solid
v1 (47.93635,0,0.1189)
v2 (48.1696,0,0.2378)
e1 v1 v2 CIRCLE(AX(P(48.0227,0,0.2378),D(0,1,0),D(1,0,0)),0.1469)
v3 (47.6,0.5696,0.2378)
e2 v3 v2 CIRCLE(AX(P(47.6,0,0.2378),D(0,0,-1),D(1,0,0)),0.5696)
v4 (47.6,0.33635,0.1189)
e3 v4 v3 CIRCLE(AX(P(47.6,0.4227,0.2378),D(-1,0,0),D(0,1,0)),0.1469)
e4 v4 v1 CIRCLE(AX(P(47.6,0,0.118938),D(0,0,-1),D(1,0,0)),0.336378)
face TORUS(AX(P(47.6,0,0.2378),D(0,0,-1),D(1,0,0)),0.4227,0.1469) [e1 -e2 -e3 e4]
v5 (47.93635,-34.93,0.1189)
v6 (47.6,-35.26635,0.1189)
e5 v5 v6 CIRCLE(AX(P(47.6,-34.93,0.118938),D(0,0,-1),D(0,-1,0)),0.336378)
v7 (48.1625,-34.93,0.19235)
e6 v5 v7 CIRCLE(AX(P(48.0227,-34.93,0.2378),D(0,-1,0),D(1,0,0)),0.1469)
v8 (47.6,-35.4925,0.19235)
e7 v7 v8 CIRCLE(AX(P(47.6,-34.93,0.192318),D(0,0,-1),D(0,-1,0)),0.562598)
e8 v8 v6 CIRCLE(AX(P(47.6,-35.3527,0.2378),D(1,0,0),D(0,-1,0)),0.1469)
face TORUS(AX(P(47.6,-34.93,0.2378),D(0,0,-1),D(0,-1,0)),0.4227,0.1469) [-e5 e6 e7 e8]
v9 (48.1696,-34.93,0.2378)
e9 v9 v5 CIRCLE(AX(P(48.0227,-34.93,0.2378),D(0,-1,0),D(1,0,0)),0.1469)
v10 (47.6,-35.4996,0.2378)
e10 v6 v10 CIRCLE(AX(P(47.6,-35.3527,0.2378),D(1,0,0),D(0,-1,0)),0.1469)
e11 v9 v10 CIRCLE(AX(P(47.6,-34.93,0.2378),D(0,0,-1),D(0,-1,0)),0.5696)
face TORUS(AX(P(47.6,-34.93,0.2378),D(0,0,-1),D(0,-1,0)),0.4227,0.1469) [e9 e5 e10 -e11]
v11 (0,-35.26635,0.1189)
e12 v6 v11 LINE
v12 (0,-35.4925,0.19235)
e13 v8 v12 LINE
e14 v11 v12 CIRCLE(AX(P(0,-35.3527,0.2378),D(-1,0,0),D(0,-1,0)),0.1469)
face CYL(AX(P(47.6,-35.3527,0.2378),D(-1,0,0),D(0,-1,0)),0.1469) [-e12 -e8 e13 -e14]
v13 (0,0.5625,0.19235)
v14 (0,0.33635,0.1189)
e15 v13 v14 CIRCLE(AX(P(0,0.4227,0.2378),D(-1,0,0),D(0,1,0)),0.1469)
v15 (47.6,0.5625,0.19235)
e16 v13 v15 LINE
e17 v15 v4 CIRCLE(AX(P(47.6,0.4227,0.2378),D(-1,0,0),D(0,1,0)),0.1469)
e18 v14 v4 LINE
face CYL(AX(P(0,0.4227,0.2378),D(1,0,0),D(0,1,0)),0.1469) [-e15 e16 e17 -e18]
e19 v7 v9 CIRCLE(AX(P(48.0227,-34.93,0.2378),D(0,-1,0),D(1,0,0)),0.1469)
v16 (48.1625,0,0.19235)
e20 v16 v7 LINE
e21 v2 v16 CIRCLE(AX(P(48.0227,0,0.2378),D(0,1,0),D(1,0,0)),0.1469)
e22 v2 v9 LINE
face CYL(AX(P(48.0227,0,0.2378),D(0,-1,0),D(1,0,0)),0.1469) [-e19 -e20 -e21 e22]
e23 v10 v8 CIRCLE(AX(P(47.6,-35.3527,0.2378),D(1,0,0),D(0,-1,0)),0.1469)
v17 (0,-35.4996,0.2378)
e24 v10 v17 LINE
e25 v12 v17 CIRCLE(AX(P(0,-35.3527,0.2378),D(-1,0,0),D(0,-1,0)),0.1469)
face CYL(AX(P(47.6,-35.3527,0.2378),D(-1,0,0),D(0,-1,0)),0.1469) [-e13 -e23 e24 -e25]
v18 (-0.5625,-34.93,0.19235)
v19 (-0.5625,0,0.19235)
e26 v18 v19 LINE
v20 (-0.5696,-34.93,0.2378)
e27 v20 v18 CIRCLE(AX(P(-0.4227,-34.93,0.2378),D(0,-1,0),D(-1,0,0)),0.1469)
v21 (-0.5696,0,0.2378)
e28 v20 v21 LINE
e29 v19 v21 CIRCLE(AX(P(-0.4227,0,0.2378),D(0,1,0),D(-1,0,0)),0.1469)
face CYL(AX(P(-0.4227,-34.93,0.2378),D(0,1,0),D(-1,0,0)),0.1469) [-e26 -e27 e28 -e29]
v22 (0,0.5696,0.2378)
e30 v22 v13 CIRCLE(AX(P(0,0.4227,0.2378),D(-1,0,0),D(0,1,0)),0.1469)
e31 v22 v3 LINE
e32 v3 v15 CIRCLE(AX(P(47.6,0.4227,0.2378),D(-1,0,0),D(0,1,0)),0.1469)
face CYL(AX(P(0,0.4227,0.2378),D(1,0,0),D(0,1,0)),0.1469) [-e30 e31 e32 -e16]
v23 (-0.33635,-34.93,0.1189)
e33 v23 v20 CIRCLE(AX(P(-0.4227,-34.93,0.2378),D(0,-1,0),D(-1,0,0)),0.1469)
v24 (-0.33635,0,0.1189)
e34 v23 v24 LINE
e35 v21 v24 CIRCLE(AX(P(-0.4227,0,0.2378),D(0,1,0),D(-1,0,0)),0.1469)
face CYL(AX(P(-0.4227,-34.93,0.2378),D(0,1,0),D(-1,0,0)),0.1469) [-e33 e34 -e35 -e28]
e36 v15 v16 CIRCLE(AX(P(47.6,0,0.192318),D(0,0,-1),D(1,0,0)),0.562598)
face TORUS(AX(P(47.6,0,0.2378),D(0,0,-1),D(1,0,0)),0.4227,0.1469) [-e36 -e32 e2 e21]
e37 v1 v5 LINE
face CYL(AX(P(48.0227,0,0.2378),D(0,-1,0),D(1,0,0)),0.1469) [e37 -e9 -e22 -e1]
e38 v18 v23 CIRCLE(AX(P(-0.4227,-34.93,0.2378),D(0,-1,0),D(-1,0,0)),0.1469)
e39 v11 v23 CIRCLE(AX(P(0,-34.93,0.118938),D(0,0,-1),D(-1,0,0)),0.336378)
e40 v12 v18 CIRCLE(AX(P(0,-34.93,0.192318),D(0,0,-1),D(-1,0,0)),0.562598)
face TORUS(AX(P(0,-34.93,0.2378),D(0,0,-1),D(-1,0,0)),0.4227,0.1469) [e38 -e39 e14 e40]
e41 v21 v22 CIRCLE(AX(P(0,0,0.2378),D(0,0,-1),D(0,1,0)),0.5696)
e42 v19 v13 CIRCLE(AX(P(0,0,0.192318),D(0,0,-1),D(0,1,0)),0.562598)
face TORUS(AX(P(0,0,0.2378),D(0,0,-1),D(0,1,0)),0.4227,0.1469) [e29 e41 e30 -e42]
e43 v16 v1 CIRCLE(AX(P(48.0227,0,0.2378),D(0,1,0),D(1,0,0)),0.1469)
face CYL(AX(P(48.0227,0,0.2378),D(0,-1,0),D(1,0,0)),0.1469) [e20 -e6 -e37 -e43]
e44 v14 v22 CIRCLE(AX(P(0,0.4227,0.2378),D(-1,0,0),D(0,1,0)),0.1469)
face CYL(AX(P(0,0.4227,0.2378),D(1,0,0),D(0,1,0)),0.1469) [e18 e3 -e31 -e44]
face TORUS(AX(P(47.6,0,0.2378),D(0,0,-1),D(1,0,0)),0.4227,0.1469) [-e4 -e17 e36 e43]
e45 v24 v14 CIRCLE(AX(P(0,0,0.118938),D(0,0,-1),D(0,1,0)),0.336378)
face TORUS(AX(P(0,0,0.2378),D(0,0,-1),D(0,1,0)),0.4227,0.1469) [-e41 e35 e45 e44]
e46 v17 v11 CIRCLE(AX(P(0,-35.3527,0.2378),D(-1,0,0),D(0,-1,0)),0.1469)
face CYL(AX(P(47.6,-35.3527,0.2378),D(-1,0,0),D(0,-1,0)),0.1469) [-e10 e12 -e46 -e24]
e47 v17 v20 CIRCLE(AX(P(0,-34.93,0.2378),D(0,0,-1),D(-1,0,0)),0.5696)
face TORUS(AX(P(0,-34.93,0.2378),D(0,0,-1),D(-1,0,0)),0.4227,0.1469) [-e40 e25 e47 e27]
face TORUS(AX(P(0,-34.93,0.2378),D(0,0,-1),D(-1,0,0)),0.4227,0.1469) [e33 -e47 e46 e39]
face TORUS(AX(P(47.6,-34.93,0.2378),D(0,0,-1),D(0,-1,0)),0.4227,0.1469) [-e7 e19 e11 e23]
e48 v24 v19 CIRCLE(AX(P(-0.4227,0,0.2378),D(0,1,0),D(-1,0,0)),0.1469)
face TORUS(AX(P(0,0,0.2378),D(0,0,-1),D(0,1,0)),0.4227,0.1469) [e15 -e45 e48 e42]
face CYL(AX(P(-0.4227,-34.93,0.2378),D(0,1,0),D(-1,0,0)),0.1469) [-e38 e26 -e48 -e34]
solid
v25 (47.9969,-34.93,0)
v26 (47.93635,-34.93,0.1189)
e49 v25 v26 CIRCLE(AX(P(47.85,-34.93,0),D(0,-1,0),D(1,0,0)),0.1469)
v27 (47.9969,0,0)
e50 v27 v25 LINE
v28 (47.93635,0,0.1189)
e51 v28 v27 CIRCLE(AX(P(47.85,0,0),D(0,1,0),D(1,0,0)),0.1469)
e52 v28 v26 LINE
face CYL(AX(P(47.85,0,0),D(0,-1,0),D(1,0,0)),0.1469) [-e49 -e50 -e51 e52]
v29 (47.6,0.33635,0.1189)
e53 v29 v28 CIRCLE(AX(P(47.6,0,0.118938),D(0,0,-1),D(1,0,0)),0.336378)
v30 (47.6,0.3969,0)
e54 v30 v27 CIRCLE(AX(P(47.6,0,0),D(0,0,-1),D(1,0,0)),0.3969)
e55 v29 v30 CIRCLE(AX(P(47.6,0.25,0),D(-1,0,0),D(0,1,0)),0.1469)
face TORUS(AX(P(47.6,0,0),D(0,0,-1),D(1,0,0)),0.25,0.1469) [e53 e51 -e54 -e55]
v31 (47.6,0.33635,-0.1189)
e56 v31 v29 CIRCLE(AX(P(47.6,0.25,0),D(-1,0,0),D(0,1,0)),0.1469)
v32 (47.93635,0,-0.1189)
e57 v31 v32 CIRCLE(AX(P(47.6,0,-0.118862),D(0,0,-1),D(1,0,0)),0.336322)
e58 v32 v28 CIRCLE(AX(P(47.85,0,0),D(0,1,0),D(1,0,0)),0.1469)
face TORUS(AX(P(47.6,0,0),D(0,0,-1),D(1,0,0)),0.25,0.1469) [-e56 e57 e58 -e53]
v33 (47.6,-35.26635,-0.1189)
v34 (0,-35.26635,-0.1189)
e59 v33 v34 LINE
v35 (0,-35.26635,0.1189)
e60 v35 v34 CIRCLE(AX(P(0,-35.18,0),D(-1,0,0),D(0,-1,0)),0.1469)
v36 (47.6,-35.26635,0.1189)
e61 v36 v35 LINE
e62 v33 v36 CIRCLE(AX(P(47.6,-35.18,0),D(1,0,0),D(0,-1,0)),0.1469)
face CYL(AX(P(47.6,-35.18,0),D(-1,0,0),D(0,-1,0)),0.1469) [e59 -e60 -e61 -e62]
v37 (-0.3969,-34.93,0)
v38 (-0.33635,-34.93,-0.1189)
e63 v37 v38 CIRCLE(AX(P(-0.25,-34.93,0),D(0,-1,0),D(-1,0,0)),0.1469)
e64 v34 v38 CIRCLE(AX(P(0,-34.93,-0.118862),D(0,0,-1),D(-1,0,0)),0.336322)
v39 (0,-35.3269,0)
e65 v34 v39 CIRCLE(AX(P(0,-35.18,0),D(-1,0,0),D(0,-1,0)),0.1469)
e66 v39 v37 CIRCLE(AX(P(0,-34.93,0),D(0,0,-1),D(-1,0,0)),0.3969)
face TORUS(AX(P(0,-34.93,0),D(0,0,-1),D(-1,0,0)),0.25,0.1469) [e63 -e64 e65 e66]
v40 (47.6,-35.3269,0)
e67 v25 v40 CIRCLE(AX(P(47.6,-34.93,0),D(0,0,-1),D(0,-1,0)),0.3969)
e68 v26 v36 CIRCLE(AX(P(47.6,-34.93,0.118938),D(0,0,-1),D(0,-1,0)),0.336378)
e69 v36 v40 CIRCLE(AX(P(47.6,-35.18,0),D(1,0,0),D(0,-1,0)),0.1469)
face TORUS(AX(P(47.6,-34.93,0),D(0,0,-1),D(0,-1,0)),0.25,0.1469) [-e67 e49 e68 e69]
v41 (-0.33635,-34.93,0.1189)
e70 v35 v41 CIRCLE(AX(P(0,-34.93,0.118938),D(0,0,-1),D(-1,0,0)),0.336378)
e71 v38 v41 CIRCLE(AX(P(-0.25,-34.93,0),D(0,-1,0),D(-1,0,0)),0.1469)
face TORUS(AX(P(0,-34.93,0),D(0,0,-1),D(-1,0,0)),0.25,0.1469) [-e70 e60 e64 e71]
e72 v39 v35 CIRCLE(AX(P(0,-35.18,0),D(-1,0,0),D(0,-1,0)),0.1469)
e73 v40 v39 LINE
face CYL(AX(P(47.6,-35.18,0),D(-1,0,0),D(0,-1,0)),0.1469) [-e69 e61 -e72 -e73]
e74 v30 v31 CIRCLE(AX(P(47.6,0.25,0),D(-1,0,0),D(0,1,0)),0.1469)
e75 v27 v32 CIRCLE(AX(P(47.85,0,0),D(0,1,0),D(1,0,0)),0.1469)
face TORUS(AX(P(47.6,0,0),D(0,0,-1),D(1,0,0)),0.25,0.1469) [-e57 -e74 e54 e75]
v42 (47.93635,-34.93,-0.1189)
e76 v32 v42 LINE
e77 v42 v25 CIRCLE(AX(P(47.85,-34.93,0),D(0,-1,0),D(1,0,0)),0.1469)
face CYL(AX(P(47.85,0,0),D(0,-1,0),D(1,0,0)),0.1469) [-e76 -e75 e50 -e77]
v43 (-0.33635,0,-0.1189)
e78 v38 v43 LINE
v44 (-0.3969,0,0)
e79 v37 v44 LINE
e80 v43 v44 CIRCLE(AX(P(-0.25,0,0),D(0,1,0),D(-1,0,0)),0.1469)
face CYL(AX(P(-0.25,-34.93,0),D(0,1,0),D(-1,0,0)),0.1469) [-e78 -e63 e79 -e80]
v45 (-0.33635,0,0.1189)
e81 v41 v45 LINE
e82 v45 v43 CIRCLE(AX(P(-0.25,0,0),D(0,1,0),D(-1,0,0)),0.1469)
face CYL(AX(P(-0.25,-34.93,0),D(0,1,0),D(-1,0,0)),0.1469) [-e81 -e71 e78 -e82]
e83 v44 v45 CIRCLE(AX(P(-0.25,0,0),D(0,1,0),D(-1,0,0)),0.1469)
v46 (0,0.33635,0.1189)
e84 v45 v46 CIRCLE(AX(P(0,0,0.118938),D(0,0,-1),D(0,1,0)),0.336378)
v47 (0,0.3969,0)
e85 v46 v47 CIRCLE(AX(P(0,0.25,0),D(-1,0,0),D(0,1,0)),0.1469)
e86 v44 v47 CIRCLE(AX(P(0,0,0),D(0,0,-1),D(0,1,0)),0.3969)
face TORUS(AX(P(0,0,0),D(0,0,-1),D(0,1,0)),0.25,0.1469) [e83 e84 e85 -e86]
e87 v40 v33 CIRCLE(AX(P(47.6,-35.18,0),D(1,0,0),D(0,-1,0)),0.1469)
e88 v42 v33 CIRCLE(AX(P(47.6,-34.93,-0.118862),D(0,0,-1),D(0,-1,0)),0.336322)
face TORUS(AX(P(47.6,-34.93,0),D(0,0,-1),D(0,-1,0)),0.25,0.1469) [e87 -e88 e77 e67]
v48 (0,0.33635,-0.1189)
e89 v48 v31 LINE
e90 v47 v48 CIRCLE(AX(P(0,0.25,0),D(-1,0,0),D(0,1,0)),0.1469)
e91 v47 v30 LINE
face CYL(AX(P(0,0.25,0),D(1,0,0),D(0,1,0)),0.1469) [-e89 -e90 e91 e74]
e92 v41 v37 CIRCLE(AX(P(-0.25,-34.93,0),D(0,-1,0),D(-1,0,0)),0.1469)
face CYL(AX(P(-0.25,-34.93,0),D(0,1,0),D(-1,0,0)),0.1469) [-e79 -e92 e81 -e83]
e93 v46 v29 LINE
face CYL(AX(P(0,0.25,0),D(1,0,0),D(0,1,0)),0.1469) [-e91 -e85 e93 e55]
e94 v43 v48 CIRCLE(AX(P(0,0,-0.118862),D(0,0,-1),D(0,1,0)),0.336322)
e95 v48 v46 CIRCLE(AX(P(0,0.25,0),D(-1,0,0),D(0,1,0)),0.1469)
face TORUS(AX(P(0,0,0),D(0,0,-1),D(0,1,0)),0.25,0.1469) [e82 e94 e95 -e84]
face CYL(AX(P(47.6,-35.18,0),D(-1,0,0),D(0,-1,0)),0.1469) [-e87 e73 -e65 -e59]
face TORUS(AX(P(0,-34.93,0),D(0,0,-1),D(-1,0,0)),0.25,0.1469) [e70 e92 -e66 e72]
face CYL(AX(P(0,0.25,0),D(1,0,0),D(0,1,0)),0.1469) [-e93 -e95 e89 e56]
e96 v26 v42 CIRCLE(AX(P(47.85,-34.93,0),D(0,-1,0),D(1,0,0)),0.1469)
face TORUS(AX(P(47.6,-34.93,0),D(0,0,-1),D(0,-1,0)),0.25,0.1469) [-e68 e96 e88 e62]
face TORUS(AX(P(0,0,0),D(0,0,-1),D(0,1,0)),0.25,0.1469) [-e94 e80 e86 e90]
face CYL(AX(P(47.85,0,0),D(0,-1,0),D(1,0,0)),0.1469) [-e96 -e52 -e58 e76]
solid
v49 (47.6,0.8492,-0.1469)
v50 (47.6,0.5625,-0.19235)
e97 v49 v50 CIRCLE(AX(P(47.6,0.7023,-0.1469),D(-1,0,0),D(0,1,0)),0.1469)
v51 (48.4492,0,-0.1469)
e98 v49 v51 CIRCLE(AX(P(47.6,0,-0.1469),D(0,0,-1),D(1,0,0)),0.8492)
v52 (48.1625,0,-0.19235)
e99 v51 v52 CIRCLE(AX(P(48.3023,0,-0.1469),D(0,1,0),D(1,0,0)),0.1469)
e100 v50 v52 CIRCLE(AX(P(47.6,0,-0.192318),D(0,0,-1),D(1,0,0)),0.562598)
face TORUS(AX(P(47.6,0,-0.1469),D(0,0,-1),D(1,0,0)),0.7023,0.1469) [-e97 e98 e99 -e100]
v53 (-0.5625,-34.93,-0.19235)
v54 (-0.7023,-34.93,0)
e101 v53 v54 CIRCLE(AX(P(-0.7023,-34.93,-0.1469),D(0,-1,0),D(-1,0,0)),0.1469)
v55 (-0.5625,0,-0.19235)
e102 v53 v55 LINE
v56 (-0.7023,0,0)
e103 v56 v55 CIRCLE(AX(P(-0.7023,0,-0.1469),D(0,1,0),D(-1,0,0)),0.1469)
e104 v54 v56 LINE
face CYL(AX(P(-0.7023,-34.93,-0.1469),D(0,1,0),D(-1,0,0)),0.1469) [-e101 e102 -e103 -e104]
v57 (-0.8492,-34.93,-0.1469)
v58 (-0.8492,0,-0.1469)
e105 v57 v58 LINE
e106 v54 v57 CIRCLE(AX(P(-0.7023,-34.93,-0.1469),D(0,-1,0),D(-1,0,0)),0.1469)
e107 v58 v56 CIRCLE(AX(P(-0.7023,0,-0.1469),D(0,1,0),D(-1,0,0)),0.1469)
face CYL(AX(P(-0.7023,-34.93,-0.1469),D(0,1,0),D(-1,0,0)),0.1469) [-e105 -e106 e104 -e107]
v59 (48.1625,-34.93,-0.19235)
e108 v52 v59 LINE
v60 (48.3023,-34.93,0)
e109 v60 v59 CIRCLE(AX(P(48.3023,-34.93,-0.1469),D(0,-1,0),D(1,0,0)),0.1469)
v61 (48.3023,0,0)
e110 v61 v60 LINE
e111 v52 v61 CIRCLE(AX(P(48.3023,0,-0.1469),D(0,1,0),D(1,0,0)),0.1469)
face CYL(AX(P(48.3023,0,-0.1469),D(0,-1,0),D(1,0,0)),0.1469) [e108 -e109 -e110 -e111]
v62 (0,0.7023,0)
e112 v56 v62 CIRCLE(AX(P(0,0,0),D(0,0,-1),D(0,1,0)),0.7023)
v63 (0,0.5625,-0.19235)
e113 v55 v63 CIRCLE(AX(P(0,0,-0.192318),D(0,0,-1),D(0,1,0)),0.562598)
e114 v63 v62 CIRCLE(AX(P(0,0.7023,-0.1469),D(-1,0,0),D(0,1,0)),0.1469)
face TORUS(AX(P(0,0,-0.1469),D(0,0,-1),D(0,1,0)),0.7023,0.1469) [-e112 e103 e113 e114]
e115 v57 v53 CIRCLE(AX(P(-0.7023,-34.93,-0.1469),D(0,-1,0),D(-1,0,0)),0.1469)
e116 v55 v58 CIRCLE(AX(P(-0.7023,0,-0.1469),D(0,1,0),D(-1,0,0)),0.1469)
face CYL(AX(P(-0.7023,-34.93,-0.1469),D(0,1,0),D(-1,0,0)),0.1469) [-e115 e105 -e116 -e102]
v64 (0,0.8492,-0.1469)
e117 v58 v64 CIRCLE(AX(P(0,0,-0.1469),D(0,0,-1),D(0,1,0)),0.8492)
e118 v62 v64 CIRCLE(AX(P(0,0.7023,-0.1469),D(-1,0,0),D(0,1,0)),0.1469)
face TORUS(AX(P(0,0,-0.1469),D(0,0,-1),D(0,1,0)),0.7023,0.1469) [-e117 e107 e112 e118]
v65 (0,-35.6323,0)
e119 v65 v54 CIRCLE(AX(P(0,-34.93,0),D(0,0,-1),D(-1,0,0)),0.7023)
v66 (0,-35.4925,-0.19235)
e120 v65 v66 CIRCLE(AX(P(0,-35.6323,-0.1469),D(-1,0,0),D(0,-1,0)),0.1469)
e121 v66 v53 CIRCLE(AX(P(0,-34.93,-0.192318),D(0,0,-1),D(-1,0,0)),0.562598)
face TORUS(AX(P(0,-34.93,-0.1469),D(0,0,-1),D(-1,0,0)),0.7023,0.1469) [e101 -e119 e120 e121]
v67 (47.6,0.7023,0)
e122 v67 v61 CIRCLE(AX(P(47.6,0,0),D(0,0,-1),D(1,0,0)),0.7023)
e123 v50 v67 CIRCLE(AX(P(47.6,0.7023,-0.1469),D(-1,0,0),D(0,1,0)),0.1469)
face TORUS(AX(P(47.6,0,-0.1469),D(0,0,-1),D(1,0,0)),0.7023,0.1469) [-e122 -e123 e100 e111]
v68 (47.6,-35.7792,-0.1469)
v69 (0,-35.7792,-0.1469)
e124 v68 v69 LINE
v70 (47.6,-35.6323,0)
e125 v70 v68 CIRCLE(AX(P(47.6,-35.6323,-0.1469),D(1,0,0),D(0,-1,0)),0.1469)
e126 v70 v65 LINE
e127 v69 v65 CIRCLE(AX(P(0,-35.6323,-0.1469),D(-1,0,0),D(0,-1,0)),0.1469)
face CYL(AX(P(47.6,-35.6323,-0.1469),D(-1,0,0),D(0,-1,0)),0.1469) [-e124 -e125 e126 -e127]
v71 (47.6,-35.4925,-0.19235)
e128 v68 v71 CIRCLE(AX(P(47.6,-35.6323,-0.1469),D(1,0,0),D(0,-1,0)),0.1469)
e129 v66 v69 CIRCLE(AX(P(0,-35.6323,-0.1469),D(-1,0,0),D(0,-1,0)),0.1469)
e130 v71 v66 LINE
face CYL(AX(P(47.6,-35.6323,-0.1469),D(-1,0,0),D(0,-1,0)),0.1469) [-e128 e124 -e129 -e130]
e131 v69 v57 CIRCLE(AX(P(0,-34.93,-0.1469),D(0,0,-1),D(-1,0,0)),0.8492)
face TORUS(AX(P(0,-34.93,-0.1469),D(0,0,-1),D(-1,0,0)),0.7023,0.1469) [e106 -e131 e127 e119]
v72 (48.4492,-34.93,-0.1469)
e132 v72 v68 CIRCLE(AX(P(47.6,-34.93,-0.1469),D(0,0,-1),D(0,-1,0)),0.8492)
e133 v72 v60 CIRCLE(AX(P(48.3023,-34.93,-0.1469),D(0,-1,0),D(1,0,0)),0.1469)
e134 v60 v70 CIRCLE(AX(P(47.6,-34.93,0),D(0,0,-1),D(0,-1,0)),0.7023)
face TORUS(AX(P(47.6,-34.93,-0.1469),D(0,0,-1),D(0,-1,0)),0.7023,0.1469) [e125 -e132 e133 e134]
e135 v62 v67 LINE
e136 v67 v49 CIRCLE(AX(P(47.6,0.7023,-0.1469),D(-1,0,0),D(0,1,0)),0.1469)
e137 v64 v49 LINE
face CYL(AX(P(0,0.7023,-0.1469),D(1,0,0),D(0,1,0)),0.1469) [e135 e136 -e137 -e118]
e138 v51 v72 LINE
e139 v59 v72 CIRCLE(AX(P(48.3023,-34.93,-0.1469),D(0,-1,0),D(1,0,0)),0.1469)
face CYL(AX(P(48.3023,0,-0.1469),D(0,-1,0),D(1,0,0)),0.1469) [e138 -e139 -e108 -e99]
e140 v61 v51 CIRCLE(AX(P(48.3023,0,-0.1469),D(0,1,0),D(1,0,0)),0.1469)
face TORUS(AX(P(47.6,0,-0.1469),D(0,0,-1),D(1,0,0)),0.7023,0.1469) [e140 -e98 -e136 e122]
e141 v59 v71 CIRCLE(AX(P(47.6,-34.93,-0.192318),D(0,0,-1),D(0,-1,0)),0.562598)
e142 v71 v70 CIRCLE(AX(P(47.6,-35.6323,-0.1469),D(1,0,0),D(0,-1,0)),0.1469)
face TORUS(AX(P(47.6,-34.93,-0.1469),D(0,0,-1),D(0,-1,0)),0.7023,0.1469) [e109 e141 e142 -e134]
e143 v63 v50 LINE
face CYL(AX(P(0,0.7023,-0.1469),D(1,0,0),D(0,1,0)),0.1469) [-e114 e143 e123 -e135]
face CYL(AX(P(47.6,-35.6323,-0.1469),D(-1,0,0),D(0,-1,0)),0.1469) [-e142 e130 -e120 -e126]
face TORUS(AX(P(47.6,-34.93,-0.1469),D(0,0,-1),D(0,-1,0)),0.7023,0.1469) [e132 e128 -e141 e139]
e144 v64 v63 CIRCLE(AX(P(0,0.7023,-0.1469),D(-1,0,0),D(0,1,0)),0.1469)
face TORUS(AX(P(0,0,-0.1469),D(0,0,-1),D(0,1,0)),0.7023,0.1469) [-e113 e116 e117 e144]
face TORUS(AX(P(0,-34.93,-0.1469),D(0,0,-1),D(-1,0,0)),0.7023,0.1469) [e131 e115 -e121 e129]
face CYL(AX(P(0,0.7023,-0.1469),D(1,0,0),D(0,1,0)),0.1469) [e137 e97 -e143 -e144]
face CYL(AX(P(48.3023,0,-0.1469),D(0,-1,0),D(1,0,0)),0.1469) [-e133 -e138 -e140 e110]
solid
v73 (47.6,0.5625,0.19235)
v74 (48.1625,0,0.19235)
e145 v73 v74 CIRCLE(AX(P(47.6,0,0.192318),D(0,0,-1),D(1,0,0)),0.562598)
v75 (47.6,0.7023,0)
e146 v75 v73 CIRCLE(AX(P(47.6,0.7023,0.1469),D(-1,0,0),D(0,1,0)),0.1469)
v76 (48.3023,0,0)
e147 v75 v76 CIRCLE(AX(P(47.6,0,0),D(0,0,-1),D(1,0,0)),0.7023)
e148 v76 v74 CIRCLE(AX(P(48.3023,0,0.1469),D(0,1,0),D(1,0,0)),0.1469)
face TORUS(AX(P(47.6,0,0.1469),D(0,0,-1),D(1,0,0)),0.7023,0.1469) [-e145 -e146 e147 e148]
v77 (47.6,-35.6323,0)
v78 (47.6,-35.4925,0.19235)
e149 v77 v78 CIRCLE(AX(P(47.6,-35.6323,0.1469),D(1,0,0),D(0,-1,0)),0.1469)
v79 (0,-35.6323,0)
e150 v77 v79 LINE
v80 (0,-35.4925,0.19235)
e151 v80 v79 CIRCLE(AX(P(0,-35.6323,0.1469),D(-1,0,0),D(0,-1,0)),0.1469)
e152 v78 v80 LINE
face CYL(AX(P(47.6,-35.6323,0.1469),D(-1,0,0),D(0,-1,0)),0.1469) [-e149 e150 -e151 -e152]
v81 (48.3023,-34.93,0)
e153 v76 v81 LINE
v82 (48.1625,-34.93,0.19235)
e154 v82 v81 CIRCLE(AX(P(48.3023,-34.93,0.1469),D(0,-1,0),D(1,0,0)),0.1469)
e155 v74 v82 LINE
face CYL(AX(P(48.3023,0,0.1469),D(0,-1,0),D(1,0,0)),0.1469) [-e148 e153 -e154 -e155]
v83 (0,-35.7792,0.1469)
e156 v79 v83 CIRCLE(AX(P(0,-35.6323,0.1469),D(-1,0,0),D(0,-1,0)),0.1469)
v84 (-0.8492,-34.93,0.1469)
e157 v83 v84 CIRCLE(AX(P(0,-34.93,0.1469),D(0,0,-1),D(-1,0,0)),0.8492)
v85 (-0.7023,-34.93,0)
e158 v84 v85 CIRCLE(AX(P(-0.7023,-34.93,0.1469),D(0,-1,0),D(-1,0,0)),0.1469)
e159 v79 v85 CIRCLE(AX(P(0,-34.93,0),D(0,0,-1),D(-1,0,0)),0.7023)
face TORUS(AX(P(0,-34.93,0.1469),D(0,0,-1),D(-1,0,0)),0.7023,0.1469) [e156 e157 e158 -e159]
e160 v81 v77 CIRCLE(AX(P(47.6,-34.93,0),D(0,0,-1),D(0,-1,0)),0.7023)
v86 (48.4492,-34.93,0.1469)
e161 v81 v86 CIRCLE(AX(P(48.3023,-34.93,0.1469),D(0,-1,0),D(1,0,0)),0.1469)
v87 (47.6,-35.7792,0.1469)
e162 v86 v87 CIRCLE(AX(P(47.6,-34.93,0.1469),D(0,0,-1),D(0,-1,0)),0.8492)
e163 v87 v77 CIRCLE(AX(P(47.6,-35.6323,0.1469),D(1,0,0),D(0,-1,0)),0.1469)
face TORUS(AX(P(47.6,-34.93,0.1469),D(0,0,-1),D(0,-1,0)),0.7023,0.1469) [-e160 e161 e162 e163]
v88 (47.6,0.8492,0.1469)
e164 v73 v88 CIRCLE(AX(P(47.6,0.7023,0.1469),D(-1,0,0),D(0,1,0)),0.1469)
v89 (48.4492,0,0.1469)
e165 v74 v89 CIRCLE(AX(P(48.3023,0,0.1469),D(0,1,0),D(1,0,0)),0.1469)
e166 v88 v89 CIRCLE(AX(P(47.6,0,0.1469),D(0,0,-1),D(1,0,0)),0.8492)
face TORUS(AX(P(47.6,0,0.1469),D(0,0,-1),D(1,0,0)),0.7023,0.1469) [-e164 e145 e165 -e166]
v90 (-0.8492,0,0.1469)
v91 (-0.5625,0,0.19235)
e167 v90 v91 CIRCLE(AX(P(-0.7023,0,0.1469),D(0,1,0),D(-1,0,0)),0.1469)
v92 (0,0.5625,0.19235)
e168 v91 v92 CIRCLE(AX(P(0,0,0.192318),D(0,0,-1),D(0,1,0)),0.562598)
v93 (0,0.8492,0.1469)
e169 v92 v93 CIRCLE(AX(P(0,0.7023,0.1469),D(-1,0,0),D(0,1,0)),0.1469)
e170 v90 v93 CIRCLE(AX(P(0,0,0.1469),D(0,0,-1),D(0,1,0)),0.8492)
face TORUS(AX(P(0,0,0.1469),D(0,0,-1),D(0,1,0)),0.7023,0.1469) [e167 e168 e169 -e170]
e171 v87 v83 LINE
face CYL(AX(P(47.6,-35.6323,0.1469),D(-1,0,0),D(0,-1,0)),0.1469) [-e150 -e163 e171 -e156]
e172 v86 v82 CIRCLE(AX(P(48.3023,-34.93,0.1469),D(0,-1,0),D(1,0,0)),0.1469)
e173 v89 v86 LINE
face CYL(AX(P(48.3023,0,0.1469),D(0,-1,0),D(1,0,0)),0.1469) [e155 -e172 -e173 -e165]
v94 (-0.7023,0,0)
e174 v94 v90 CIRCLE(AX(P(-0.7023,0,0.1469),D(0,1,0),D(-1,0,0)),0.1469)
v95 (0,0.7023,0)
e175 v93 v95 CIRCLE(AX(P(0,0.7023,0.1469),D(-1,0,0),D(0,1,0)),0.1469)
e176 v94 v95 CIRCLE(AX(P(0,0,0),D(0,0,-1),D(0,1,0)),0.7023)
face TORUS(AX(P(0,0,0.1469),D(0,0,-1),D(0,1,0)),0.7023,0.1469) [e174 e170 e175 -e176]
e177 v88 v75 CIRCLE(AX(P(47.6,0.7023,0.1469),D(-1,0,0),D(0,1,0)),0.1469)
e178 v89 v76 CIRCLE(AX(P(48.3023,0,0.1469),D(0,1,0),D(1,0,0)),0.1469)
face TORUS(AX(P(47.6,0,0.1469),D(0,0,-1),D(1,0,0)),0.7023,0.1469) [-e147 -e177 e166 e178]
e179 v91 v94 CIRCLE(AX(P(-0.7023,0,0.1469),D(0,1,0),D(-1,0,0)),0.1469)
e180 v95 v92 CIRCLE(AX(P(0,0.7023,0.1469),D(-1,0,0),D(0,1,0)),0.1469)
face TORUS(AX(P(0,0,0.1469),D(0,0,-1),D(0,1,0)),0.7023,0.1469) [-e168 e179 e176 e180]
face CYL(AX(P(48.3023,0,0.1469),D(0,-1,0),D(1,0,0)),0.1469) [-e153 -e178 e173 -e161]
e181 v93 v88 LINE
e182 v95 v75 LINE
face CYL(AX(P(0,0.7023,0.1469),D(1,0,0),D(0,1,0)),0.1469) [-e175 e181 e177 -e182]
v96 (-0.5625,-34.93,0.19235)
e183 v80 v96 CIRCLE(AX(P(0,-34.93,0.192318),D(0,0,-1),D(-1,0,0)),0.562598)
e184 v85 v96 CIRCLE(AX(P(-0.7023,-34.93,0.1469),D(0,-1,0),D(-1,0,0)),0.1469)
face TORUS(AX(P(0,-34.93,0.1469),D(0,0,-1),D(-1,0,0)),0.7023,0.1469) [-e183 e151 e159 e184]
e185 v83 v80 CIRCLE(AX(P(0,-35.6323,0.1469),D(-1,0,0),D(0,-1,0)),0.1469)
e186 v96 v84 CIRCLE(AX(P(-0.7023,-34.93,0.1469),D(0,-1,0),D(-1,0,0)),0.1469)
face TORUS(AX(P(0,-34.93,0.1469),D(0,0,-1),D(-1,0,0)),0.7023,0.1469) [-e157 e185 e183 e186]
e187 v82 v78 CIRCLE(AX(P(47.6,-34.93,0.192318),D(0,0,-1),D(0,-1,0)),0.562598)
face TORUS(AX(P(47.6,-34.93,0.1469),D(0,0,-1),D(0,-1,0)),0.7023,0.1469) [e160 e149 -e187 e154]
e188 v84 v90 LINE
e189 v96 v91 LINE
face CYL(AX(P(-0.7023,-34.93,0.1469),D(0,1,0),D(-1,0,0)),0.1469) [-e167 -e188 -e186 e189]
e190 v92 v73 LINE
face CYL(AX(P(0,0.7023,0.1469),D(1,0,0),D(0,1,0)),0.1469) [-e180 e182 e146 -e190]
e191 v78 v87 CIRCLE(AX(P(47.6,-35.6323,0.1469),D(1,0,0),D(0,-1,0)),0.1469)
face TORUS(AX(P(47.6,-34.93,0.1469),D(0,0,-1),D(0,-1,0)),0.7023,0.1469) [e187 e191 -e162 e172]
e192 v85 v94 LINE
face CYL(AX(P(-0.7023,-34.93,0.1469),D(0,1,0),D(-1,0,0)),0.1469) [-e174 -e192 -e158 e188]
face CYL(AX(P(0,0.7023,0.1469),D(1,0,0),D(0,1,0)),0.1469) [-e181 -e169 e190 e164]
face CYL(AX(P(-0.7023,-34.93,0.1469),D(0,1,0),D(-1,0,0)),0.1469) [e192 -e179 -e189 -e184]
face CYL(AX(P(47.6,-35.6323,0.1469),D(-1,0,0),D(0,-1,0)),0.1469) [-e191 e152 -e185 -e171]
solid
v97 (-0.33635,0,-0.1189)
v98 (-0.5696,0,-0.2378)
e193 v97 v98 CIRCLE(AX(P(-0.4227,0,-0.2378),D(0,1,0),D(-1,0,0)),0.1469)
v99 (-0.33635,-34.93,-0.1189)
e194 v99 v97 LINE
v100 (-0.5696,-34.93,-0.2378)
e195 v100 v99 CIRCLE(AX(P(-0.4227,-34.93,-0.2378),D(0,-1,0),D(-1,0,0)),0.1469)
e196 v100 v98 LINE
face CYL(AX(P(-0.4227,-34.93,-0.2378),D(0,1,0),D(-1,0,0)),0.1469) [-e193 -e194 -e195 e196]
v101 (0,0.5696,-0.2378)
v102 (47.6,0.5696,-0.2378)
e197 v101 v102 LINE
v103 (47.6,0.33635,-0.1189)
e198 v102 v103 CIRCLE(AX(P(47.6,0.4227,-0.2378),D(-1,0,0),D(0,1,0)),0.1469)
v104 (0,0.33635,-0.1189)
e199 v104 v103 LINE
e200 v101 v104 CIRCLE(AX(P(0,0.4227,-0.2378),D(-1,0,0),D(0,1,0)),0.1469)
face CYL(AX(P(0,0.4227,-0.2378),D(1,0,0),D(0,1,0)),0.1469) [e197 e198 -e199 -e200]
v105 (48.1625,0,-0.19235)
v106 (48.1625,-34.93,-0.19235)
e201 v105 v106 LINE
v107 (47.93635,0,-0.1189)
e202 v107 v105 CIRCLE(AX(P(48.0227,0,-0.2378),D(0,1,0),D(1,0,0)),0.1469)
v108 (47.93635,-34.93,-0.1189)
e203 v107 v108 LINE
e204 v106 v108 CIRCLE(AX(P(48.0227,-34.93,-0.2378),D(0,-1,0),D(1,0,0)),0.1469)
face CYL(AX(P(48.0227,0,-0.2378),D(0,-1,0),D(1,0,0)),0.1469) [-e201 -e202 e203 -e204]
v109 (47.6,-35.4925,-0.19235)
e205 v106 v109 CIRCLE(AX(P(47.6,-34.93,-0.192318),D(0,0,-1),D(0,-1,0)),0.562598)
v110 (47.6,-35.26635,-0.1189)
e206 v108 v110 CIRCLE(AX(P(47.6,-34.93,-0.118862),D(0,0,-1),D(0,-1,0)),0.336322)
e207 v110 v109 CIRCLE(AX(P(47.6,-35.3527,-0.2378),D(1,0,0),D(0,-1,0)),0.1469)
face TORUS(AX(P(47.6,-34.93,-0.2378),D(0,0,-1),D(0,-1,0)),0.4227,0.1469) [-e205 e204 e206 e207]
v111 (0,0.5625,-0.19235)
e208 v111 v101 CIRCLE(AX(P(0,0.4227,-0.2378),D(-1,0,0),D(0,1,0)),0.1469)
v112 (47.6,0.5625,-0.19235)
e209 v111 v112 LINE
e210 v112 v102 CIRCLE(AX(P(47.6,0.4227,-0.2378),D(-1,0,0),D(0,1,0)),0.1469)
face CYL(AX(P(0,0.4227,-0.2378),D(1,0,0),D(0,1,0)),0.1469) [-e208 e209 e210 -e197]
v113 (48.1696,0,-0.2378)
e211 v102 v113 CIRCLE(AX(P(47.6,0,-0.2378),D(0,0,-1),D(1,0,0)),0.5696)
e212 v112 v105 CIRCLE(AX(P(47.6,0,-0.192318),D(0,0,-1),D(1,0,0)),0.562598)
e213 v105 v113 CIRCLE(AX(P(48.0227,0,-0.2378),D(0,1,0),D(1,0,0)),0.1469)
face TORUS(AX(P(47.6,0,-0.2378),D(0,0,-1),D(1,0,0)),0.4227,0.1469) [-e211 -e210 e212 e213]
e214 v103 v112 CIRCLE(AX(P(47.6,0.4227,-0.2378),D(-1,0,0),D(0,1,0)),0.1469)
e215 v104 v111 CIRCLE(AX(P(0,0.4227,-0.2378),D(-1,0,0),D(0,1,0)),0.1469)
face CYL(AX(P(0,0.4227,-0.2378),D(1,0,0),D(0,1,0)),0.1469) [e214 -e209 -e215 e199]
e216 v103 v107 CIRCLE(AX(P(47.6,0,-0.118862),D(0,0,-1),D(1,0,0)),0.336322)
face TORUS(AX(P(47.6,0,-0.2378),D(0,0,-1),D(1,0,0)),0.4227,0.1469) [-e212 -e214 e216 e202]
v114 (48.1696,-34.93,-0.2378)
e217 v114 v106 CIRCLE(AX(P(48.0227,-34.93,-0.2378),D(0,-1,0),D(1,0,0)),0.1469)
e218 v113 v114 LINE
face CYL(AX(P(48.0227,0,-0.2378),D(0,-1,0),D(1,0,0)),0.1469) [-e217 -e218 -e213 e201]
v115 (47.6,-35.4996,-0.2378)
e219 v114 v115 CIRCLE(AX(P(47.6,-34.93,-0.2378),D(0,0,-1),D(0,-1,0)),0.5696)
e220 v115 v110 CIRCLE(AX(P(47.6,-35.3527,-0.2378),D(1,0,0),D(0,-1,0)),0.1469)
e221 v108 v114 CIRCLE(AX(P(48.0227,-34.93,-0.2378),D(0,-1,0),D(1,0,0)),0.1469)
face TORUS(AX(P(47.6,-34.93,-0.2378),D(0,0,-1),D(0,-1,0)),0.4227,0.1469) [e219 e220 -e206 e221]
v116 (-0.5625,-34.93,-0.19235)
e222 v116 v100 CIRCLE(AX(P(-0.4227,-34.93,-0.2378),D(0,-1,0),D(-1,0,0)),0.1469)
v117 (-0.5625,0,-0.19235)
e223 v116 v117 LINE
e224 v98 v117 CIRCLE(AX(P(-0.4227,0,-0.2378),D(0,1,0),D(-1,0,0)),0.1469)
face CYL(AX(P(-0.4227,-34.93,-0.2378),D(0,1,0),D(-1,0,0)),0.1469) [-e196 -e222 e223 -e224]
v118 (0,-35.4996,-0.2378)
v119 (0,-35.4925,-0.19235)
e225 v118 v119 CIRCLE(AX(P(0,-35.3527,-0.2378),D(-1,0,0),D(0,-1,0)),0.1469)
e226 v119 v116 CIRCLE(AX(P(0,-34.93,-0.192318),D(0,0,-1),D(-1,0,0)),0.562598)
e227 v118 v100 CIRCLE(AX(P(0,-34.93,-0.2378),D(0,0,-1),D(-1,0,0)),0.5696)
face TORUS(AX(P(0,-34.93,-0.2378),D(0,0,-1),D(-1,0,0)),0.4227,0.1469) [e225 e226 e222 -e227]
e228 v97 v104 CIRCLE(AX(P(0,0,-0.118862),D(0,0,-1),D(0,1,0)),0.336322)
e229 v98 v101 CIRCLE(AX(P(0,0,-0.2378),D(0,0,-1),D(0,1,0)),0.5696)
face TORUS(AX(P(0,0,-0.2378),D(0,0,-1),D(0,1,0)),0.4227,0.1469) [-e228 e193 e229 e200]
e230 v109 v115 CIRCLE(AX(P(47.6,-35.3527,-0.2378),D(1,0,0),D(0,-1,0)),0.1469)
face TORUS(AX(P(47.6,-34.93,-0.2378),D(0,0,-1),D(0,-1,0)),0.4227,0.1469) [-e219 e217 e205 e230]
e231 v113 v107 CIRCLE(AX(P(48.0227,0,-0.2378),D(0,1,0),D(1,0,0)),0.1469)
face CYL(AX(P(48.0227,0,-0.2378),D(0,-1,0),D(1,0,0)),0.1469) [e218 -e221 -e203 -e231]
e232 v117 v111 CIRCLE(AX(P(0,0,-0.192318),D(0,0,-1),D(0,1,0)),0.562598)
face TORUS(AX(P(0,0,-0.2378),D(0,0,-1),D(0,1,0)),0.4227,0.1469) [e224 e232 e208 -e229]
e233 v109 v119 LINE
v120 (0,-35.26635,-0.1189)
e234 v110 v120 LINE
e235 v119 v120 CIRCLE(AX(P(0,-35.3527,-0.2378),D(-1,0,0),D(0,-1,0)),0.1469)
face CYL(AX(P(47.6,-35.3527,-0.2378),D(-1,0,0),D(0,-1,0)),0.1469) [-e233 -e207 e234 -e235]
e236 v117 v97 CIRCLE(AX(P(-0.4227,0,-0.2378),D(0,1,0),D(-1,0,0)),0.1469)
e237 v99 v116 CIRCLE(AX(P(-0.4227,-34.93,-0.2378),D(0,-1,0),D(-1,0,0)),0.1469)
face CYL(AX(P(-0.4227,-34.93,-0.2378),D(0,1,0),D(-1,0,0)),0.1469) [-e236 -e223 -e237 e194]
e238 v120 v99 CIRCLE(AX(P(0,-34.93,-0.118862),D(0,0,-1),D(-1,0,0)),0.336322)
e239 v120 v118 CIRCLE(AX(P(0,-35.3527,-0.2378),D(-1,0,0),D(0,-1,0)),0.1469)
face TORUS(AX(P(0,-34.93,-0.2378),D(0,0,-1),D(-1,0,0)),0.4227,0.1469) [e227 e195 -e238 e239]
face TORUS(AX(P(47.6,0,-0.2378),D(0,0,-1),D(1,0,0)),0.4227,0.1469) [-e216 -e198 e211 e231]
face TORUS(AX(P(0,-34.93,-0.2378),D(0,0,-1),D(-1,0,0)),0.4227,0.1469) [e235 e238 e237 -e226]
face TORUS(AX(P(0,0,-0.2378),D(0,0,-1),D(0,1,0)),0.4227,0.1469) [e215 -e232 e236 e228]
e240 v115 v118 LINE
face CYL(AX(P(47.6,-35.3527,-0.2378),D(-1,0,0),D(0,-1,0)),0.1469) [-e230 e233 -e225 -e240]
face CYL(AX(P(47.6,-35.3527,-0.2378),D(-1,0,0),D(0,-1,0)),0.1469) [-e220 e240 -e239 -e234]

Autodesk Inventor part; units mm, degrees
ref_plane "YZ Plane" through (0, 0, 0) normal (1, 0, 0) x (0, 1, 0)
ref_plane "XZ Plane" through (0, 0, 0) normal (0, 1, 0) x (-1, 0, 0)
ref_plane "XY Plane" through (0, 0, 0) normal (0, 0, 1) x (1, 0, 0)
sketch "Sketch1" plane through (0, 0, 0) normal (0, 0, 1) x (1, 0, 0)
  line L0 (23.8, -34.93) -> (0, -34.93) construction
  line L1 (23.8, -30.365) -> (23.8, -34.93) construction
  line L2 (4.75, -30.365) -> (23.8, -30.365) construction
  line L3 (4.75, -22.23) -> (4.75, -30.365) construction
  line L4 (23.8, -22.23) -> (4.75, -22.23) construction
  line L5 (23.8, -12.7) -> (23.8, -22.23) construction
  line L6 (4.75, -12.7) -> (23.8, -12.7) construction
  line L7 (4.75, -4.565) -> (4.75, -12.7) construction
  line L8 (23.8, -4.565) -> (4.75, -4.565) construction
  line L9 (23.8, 0) -> (23.8, -4.565) construction
  line L10 (0, 0) -> (23.8, 0) construction
  line L11 (0, -34.93) -> (0, 0) construction
  line L12 (23.8, 0) -> (47.6, 0) construction
  line L13 (23.8, -4.565) -> (23.8, 0) construction
  line L14 (42.85, -4.565) -> (23.8, -4.565) construction
  line L15 (42.85, -12.7) -> (42.85, -4.565) construction
  line L16 (23.8, -12.7) -> (42.85, -12.7) construction
  line L17 (23.8, -22.23) -> (23.8, -12.7) construction
  line L18 (42.85, -22.23) -> (23.8, -22.23) construction
  line L19 (42.85, -30.365) -> (42.85, -22.23) construction
  line L20 (23.8, -30.365) -> (42.85, -30.365) construction
  line L21 (23.8, -34.93) -> (23.8, -30.365) construction
  line L22 (47.6, -34.93) -> (23.8, -34.93) construction
  line L23 (47.6, 0) -> (47.6, -34.93) construction
  line L24 (0, 0.5) -> (47.6, 0.5)
  line L25 (48.1, 0) -> (48.1, -34.93)
  line L26 (47.6, -35.43) -> (0, -35.43)
  line L27 (-0.5, -34.93) -> (-0.5, 0)
  arc A0 (0, 0.5) -> (-0.5, 0) centre (0, 0) ccw
  arc A1 (-0.5, -34.93) -> (0, -35.43) centre (0, -34.93) ccw
  arc A2 (47.6, -35.43) -> (48.1, -34.93) centre (47.6, -34.93) ccw
  arc A3 (48.1, 0) -> (47.6, 0.5) centre (47.6, 0) ccw
  dimension "d0" = 0.5
  dimension "d1" = 0.5
  dimension "d2" = 0.5
  dimension "d3" = 0.5
  dimension "d4" = 0.5
sketch "Sketch2" plane through (0, 0, 0) normal (1, 0, 0) x (0, 1, 0)
  circle A0 centre (0.5, 0) radius 0.25 construction
  circle A1 centre (0.7023, 0.1469) radius 0.1469
  circle A2 centre (0.4227, 0.2378) radius 0.1469
  circle A3 centre (0.25, 0) radius 0.1469
  circle A4 centre (0.4227, -0.2378) radius 0.1469
  circle A5 centre (0.7023, -0.1469) radius 0.1469
  line L0 (0.5, 0) -> (0, 0) construction
  point P0 (0.5, 0)
  dimension "d5" = 0.5
sweep "Sweep1" add profiles "Sketch2" path "Sketch1" contours A1 | A2 | A5 | A3 | A4
equation "\"d1\" = d0"
equation "\"d2\" = d0"
equation "\"d3\" = d0"
properties part number "twine" material "Polypropylene"
